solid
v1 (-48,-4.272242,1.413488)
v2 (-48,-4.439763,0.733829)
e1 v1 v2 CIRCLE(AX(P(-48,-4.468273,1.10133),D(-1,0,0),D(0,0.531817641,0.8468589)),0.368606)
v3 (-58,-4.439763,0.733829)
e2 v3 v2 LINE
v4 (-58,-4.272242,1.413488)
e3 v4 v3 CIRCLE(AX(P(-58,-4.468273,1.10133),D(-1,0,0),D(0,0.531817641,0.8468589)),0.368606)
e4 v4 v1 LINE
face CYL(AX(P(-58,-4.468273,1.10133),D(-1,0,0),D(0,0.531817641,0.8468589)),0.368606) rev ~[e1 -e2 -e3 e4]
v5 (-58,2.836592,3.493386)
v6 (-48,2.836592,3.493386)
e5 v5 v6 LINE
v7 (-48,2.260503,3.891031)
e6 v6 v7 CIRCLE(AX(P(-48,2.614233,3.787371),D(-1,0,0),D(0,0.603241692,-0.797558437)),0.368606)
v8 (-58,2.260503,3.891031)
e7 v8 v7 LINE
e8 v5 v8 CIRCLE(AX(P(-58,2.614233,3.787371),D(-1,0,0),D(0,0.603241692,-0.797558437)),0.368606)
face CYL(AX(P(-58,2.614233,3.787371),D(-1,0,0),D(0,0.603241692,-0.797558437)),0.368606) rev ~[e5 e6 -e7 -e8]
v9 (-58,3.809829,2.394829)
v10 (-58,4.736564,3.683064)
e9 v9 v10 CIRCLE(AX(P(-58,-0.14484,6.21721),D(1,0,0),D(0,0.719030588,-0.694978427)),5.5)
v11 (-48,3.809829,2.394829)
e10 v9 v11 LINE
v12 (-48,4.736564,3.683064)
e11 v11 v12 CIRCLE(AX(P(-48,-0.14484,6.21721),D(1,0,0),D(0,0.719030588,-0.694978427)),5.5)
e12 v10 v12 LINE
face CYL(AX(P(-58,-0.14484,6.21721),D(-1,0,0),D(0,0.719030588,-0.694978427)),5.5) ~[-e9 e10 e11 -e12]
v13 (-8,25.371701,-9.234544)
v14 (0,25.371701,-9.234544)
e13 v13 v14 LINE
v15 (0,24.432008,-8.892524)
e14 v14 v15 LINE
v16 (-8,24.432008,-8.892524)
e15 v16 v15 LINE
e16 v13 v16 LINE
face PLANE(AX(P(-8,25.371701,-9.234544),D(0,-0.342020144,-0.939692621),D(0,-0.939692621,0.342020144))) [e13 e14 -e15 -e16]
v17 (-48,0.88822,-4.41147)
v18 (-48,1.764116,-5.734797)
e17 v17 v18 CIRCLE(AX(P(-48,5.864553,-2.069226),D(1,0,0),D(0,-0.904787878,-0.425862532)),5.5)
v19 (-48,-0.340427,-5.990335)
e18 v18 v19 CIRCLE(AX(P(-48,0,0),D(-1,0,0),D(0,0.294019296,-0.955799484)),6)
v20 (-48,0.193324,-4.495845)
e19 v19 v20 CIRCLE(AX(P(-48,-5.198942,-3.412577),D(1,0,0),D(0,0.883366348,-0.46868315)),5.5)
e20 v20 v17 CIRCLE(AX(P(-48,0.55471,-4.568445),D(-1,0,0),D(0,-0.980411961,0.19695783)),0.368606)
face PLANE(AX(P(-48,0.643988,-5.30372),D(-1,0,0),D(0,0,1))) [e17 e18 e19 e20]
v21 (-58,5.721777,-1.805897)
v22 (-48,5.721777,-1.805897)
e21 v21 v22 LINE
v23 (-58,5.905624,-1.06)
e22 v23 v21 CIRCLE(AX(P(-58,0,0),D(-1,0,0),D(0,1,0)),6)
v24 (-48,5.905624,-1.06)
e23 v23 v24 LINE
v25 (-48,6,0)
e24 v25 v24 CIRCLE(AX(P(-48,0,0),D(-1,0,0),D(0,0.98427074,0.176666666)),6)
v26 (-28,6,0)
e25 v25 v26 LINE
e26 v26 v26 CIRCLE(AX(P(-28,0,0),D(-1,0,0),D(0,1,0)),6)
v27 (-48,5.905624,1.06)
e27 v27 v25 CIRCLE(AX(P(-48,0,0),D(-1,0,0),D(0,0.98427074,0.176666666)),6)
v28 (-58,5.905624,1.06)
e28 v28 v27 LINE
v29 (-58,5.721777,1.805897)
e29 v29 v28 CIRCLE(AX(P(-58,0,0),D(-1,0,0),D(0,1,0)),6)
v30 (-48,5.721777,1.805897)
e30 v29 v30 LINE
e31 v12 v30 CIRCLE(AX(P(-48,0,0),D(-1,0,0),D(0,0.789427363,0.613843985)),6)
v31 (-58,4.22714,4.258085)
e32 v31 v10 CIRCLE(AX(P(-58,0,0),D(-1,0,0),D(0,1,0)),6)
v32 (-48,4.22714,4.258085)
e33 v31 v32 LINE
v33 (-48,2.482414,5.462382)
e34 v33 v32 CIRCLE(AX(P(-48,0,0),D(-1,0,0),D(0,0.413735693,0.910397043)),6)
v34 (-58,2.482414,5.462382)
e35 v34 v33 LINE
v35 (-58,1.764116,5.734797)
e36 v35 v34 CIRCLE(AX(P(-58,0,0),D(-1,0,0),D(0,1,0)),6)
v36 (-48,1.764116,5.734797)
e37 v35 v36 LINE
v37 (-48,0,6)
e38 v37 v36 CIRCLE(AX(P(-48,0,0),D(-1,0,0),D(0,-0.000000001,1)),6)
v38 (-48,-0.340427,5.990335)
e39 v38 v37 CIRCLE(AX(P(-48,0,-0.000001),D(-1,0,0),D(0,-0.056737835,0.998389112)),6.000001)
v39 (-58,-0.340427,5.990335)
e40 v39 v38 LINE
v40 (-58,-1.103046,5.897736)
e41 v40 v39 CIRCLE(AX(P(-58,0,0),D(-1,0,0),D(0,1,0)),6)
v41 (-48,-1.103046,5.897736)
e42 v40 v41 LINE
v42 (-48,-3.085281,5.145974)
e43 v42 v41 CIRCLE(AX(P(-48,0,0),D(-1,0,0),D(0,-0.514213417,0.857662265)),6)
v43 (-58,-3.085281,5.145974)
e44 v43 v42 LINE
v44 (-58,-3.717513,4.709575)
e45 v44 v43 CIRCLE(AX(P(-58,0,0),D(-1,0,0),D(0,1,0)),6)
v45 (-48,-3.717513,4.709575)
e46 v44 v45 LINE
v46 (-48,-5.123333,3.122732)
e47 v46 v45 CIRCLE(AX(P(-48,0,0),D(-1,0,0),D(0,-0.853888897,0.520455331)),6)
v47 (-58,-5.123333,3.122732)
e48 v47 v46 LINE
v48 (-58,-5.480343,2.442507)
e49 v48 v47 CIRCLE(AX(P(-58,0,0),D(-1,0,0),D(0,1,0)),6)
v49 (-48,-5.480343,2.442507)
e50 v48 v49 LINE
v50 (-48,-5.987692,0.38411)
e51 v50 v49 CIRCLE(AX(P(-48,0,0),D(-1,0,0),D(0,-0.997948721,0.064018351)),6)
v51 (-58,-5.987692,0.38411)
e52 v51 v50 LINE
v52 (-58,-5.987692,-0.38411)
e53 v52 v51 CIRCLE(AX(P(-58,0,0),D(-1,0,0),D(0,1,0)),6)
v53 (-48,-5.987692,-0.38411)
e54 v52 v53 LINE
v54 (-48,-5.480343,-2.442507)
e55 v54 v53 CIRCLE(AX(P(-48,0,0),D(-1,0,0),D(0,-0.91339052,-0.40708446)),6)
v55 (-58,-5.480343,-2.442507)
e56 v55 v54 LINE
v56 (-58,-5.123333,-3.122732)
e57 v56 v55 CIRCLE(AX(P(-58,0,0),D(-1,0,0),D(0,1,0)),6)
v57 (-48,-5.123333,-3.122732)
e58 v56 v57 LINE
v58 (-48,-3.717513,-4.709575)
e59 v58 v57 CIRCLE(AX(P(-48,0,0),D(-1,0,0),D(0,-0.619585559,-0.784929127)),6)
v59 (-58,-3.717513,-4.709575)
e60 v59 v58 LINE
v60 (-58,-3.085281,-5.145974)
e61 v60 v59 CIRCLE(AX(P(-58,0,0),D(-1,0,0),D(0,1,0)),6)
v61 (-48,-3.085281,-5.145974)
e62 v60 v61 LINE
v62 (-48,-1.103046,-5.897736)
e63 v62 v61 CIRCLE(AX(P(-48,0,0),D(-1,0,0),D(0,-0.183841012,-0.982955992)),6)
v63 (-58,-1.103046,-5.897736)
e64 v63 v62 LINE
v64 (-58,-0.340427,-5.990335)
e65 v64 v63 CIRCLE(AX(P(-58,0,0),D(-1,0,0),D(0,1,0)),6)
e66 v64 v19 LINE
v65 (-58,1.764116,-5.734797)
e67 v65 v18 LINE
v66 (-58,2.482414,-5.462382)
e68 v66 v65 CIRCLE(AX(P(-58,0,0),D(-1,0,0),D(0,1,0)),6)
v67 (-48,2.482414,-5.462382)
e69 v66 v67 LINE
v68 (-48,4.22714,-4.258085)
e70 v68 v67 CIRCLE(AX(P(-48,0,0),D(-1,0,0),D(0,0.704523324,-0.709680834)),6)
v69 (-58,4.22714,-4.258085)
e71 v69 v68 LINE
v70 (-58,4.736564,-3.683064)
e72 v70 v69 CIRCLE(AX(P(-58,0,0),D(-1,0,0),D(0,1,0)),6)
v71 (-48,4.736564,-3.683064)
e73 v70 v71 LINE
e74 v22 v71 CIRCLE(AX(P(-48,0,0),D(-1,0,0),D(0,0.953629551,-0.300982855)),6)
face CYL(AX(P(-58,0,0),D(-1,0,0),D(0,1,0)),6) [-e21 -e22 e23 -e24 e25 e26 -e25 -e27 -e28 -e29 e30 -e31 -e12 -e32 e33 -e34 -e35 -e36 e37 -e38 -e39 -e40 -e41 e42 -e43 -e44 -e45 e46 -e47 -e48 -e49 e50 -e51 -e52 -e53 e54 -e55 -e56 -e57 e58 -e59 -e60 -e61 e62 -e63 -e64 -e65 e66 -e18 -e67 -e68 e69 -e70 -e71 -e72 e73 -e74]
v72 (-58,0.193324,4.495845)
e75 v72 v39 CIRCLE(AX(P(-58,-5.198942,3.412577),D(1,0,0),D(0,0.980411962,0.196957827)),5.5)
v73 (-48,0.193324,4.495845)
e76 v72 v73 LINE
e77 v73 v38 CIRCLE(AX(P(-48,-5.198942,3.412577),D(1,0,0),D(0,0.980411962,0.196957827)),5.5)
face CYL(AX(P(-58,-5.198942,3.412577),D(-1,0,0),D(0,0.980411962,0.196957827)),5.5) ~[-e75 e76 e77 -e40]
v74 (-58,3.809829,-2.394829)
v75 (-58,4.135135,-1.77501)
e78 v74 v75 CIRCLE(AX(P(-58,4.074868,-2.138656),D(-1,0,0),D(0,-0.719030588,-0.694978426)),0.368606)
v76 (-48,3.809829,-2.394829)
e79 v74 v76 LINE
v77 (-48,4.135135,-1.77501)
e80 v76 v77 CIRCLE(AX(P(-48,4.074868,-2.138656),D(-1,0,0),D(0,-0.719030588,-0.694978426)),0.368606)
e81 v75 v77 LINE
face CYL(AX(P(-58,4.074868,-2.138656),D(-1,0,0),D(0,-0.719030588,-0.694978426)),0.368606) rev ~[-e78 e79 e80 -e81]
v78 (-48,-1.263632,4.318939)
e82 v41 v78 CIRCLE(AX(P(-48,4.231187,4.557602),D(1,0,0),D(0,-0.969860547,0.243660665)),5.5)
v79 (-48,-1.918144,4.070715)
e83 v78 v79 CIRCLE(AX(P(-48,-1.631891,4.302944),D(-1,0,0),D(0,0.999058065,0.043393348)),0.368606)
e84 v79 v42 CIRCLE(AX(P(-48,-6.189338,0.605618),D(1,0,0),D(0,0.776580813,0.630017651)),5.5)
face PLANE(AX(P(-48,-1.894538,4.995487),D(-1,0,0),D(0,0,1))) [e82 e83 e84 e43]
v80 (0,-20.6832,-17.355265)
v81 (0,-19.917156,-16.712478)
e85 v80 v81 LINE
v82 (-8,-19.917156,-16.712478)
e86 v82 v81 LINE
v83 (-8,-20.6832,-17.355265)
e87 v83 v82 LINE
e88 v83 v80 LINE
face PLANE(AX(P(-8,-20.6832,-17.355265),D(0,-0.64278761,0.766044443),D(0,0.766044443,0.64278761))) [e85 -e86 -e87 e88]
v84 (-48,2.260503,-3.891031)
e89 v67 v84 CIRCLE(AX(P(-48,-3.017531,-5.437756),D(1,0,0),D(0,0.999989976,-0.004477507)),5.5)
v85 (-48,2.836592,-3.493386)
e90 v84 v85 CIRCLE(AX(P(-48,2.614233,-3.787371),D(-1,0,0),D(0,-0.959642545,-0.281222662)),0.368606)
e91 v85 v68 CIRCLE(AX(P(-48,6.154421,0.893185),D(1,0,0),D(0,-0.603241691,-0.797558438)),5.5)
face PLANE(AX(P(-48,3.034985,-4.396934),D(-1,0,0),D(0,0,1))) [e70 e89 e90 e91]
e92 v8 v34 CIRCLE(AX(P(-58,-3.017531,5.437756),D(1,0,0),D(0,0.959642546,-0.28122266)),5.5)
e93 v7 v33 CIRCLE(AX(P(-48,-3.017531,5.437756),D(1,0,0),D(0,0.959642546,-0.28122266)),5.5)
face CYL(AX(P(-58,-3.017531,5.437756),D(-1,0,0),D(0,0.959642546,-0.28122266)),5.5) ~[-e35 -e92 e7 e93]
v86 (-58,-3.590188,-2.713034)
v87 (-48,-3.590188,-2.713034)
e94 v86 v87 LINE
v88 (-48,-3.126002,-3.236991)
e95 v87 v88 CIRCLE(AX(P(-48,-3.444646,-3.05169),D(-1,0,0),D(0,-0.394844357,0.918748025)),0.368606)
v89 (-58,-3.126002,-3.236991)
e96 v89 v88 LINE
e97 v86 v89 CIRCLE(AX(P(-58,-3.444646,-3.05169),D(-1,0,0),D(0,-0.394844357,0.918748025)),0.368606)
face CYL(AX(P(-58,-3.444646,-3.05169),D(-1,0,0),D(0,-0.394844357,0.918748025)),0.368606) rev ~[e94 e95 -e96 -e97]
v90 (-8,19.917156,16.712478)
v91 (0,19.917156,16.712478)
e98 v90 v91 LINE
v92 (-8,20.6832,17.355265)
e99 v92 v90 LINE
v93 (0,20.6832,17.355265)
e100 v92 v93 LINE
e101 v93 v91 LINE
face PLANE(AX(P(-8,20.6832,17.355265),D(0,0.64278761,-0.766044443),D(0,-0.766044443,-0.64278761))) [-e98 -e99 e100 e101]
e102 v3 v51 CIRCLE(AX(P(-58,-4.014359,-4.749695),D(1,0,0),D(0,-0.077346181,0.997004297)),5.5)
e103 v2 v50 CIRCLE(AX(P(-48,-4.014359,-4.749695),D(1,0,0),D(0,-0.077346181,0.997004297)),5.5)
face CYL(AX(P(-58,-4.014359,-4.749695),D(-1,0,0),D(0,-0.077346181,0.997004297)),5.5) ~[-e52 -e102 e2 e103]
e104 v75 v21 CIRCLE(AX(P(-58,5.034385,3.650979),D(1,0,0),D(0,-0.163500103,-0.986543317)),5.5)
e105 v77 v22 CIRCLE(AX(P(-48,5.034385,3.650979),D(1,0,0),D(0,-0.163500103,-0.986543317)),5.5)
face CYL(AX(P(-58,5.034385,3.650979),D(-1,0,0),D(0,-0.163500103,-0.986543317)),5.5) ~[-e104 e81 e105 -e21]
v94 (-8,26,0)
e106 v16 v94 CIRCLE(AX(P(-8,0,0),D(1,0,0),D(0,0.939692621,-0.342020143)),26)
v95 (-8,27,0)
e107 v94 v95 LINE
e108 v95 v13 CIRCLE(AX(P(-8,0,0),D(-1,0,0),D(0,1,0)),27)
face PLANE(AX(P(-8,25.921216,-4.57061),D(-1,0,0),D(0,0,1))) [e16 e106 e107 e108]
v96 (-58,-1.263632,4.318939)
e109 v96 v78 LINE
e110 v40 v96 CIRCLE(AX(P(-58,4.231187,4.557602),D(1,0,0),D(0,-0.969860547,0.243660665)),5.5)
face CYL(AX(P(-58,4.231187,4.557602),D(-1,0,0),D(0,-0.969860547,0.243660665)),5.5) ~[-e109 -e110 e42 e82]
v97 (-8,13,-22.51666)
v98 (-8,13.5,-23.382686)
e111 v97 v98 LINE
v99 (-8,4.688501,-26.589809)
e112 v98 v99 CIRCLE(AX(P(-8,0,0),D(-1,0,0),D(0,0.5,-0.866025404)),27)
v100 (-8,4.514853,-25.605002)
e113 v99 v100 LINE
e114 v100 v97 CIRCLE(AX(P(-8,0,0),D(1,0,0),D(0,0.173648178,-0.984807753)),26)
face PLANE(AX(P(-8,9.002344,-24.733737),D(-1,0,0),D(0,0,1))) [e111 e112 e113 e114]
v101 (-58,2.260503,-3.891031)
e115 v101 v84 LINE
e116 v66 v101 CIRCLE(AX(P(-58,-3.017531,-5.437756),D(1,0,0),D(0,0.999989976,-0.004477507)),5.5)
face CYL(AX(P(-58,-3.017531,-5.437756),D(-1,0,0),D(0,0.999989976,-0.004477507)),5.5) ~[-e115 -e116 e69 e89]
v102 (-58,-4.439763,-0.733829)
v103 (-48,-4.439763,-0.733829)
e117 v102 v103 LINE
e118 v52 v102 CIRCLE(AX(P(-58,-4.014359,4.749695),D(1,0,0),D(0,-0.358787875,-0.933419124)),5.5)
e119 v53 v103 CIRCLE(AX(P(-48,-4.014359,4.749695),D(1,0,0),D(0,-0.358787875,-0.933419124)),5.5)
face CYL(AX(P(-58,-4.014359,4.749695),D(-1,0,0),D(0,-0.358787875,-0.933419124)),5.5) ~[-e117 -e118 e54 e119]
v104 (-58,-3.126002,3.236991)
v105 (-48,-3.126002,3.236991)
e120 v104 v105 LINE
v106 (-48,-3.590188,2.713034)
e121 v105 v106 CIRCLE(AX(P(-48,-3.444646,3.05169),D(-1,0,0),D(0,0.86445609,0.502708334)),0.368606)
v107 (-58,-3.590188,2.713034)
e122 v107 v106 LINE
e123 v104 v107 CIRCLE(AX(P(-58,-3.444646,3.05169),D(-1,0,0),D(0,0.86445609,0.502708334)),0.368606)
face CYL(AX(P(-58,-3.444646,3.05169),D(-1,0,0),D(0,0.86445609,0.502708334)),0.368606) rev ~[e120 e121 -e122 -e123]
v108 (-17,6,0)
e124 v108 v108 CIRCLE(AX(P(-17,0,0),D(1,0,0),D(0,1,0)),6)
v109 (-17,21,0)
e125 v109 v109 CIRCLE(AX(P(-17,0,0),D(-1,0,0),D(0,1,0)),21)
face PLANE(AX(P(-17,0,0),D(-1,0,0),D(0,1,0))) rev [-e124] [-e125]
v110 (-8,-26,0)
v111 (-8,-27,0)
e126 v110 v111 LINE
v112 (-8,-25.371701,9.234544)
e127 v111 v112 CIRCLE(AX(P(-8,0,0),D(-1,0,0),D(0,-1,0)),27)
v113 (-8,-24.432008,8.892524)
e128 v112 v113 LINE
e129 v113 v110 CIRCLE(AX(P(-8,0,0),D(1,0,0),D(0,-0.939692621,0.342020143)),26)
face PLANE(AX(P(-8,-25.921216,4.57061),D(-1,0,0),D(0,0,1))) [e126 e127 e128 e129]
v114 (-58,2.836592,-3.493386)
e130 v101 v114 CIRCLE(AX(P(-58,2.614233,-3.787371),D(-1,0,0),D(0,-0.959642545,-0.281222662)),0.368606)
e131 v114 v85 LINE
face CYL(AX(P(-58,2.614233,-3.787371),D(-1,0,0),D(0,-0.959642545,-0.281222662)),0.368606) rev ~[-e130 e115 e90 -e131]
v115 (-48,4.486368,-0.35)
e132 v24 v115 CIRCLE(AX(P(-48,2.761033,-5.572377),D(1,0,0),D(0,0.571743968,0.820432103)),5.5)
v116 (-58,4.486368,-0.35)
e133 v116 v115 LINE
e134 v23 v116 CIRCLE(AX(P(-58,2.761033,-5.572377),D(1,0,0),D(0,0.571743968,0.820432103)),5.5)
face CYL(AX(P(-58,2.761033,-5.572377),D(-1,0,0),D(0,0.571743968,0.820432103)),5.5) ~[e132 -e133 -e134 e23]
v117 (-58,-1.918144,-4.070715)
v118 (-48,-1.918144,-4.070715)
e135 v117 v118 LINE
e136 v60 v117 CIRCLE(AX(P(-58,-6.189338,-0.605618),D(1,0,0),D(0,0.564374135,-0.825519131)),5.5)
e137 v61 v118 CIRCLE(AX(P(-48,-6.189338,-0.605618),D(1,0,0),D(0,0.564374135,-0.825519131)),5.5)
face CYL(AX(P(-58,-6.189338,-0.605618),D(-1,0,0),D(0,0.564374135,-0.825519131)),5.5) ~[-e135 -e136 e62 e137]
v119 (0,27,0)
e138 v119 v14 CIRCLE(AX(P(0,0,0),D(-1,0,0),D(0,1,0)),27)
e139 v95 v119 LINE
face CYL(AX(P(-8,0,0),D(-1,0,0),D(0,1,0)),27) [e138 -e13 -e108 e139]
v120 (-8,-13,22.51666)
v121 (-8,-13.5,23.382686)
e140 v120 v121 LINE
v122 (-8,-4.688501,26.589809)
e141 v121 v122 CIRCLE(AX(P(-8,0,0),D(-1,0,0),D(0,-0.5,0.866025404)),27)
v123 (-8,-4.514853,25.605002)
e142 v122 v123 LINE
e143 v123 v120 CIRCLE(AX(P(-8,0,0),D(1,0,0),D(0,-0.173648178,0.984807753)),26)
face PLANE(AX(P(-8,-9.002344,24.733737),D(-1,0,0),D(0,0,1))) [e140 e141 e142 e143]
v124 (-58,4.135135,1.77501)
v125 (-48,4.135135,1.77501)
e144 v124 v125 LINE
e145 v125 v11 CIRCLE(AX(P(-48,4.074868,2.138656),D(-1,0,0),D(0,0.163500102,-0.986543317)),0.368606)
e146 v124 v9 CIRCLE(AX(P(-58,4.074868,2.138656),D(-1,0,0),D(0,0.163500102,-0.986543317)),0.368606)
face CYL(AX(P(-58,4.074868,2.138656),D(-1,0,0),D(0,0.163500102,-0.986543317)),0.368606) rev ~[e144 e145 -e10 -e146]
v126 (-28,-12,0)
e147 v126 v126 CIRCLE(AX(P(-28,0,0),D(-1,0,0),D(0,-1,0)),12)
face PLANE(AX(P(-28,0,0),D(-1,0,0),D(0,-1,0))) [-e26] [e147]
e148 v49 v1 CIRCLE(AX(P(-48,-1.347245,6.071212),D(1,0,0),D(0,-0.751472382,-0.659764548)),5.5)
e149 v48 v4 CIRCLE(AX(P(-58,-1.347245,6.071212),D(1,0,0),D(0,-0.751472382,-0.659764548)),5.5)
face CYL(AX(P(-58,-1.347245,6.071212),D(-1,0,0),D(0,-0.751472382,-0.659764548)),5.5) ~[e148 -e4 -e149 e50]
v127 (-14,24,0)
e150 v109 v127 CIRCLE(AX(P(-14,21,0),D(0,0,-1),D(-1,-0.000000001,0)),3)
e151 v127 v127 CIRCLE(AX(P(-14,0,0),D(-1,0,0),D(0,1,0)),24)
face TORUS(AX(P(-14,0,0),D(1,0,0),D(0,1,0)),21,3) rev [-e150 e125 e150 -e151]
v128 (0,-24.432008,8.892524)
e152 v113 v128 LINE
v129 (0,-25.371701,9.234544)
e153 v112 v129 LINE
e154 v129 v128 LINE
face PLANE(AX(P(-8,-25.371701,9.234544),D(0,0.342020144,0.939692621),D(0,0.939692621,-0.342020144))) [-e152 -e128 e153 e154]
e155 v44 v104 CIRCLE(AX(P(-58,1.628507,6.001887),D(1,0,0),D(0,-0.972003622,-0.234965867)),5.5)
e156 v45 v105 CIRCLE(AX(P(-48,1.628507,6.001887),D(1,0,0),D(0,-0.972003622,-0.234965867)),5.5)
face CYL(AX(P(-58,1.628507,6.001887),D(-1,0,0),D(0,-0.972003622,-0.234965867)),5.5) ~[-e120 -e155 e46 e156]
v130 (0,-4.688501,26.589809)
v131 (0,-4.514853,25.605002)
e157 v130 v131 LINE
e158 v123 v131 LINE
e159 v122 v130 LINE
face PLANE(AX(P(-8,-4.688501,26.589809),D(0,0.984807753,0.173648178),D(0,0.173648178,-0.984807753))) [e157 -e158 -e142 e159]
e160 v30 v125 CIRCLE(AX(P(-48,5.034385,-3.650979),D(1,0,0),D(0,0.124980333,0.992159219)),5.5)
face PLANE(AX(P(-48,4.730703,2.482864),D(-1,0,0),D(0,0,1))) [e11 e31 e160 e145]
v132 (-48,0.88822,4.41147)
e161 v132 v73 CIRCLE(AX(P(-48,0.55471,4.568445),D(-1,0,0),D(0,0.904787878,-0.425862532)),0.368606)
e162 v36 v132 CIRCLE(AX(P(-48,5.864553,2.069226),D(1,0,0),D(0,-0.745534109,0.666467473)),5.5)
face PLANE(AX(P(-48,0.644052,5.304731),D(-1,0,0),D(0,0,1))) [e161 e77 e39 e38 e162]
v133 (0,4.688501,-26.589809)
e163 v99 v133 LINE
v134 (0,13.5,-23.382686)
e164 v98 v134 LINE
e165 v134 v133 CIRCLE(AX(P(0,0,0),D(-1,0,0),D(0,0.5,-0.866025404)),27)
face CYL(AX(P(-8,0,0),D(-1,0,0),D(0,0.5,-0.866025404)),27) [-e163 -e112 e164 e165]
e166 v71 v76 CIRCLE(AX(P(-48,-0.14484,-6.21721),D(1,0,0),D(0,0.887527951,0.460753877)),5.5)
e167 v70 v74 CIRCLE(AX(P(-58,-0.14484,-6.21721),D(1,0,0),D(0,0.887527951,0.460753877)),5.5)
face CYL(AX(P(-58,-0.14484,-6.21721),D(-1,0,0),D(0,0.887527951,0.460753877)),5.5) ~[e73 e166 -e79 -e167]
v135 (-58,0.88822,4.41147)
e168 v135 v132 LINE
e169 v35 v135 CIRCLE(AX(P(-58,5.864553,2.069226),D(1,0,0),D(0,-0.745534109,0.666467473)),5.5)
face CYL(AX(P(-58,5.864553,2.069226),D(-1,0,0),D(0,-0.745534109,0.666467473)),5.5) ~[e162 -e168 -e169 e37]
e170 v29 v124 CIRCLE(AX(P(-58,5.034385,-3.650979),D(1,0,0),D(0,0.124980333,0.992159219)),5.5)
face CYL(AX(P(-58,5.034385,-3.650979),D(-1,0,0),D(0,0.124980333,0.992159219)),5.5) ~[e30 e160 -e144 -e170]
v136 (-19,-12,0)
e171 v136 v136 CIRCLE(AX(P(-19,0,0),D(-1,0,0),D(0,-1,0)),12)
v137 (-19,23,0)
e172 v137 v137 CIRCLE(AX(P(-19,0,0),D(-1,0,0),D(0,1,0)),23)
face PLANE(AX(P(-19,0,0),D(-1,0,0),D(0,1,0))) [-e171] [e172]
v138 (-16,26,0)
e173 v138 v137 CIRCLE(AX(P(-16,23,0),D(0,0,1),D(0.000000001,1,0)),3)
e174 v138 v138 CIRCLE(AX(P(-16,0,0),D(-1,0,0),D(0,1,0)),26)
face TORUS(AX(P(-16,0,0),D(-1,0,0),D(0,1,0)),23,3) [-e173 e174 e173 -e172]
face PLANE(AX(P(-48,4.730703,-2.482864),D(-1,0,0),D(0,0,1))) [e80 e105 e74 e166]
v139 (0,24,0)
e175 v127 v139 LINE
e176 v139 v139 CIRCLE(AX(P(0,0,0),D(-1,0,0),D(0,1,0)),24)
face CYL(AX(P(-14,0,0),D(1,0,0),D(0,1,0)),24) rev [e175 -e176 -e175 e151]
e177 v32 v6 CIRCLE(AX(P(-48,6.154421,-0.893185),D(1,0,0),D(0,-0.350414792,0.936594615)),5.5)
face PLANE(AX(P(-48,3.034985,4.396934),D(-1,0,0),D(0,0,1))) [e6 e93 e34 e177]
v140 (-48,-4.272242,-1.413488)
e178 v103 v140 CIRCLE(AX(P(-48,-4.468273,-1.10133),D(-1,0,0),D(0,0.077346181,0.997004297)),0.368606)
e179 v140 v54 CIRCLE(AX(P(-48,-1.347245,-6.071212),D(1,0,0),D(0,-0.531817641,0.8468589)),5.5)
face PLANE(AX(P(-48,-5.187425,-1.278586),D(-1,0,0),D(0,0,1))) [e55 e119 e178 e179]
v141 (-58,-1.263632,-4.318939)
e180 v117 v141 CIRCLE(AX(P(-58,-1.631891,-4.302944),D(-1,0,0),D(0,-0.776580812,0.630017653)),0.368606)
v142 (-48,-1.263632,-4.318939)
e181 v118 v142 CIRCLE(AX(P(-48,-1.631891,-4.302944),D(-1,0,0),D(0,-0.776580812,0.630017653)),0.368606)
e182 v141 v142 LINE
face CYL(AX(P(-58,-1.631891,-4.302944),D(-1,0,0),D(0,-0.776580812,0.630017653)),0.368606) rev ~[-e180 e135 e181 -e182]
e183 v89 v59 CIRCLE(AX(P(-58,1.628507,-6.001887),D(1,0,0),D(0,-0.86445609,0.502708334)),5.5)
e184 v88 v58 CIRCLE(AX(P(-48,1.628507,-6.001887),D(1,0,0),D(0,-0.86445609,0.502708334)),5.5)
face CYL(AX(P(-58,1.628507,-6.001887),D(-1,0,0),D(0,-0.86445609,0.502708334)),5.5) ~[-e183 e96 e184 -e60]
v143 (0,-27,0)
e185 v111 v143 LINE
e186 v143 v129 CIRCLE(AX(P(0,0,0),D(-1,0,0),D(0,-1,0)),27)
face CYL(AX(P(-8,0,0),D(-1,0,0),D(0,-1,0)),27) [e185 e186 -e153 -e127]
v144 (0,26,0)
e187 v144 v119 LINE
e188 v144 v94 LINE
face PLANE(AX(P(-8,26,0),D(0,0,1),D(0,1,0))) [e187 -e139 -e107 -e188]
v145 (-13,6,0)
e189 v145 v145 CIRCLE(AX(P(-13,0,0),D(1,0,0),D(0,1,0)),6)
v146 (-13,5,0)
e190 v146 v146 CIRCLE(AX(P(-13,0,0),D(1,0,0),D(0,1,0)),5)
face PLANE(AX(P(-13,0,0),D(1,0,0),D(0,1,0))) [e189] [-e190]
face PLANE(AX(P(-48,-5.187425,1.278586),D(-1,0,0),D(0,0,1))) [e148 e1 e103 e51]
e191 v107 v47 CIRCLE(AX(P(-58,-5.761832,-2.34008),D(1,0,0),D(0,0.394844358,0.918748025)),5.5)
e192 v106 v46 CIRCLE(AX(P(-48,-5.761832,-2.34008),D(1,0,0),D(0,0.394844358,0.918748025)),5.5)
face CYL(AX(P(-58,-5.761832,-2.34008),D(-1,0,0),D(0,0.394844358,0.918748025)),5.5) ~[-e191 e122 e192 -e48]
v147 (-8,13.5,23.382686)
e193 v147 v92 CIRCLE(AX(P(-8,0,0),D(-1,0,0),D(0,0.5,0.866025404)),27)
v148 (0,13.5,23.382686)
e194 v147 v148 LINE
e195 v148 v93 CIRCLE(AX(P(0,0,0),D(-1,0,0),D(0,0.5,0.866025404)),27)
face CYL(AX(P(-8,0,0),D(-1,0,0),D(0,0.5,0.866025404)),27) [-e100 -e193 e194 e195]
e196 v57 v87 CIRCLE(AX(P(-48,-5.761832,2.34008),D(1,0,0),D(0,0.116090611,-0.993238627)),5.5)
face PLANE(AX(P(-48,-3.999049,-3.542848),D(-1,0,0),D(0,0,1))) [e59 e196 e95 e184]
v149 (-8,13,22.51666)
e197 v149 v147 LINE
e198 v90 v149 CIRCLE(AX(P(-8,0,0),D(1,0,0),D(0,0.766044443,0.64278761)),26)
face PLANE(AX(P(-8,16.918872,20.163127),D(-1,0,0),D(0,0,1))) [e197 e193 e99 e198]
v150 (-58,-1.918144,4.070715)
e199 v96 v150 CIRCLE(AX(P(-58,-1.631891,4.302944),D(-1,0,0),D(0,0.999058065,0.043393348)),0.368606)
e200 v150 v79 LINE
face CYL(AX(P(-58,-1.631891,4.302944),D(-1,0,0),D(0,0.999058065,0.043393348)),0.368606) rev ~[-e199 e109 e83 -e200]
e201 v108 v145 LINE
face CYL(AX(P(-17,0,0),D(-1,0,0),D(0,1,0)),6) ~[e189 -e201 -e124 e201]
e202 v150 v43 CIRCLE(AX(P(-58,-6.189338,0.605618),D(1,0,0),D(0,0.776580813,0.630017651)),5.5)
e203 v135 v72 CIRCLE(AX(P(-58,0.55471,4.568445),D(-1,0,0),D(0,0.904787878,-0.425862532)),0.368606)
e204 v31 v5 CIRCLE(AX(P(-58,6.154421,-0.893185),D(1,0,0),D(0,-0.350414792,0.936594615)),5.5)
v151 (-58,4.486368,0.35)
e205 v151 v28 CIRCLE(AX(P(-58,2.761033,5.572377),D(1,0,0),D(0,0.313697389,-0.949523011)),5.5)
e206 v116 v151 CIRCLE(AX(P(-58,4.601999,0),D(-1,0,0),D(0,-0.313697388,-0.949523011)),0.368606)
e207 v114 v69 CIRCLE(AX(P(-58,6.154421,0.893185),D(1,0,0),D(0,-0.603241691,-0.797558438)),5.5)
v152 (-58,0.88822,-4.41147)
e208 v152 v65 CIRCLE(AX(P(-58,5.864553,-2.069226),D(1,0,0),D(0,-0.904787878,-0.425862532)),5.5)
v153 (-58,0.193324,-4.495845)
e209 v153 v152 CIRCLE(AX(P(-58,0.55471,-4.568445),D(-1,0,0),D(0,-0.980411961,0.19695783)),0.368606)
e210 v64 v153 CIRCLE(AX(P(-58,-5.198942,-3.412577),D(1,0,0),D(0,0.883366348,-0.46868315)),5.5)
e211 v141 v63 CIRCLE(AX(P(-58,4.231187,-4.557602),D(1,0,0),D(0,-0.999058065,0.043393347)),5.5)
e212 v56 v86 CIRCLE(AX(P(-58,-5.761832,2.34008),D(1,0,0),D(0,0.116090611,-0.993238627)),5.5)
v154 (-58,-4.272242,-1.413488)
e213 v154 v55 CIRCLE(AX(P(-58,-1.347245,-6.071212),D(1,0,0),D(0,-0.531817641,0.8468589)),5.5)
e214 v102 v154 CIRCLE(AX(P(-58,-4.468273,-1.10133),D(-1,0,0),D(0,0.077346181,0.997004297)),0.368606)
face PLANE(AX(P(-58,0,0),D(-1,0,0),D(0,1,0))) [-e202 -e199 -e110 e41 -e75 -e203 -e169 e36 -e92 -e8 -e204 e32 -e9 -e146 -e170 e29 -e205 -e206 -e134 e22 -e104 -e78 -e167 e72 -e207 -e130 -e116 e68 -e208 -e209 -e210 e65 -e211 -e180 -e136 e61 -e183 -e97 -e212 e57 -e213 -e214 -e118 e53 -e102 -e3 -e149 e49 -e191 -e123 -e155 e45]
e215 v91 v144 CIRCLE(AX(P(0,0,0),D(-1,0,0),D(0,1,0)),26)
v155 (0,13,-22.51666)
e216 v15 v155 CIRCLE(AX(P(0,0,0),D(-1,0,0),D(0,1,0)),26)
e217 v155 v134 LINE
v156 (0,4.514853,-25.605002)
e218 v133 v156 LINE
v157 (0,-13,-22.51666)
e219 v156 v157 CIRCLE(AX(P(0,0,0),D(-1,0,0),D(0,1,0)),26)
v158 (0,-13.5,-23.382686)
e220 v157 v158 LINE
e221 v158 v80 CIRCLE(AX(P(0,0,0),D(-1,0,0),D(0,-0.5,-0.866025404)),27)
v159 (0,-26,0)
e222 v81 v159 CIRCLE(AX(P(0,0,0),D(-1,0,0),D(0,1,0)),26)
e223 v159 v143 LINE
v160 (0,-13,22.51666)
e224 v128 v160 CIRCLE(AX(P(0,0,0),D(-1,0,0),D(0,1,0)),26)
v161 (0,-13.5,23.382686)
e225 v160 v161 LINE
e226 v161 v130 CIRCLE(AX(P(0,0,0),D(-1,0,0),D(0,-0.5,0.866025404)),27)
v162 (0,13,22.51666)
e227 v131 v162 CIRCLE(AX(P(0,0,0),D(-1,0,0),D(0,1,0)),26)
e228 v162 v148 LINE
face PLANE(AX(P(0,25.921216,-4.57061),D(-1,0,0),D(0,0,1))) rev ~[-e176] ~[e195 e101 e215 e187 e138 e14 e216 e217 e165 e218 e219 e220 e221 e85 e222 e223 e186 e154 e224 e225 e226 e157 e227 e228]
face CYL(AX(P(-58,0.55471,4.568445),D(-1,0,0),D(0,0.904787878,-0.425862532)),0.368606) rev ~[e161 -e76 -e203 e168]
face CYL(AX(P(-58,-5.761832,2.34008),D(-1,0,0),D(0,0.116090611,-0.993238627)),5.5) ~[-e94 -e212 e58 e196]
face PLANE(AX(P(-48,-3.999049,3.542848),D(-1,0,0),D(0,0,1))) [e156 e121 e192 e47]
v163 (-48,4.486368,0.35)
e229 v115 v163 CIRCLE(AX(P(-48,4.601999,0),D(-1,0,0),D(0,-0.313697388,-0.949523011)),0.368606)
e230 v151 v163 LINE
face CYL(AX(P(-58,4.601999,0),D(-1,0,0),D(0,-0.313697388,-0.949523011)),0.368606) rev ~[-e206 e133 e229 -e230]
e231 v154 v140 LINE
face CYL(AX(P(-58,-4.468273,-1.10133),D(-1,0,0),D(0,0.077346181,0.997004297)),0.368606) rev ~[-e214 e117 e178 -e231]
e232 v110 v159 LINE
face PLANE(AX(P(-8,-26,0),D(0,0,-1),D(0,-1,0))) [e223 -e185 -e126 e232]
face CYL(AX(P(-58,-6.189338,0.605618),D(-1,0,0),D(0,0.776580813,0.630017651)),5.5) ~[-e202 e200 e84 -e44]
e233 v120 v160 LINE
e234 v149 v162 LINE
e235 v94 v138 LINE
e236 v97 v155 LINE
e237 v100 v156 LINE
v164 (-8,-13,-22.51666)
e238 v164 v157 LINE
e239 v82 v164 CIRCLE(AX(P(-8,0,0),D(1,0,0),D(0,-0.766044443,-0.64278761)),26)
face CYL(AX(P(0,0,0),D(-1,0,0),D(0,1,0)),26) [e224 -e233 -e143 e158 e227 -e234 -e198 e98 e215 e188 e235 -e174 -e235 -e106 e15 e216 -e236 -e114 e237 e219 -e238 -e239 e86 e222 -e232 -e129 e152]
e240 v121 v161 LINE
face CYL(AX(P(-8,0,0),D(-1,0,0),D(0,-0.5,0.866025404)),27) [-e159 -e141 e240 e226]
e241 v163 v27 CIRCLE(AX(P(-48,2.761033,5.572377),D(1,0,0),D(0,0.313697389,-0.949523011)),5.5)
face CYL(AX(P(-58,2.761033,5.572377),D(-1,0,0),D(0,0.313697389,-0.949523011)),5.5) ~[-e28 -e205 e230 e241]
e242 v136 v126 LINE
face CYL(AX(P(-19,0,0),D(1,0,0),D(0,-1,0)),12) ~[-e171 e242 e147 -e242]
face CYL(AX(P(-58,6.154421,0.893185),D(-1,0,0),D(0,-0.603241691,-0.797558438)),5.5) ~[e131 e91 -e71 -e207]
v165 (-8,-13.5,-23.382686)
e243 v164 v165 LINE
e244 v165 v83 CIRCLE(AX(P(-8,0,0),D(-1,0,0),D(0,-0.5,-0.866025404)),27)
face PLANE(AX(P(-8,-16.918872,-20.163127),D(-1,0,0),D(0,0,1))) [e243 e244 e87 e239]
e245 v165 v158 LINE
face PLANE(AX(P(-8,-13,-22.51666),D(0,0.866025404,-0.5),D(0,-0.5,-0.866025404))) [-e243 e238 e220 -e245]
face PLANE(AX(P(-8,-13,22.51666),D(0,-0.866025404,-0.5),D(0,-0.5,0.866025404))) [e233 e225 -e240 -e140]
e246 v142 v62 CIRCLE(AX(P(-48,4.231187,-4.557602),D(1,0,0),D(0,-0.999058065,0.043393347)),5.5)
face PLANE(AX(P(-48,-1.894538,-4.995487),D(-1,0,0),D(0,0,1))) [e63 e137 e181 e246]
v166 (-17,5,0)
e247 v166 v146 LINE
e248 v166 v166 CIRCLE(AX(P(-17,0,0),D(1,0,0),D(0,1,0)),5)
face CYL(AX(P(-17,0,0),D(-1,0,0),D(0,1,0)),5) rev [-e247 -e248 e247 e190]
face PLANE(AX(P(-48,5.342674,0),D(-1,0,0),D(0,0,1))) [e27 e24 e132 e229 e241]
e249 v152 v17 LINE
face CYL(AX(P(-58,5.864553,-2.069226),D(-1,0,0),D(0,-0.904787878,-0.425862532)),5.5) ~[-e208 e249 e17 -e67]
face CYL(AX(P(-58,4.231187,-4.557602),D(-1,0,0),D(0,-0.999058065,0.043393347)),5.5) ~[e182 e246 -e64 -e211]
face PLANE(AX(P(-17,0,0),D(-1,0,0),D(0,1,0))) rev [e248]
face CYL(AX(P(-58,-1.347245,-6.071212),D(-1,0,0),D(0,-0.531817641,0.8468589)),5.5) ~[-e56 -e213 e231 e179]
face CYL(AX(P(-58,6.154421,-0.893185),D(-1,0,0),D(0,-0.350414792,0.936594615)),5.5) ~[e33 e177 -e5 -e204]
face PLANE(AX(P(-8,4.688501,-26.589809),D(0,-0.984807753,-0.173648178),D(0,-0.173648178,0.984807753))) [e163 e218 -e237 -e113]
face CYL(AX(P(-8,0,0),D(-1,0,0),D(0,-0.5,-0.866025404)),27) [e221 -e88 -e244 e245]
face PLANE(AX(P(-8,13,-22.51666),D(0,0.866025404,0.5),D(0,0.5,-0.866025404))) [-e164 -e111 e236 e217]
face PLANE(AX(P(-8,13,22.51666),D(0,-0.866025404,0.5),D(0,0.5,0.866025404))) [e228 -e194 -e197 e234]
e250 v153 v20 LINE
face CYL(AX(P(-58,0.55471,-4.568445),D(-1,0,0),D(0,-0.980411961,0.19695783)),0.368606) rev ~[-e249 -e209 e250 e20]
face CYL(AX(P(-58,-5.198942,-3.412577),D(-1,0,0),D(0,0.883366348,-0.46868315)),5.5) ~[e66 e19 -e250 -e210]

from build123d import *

# Parameters (mm, degrees)
SKETCH2_R           = 6
SKETCH2_R_2         = 5
BOSS_EXTRUDE1_DEPTH = 4
SKETCH3_R           = 12
BOSS_EXTRUDE2_DEPTH = 9
BOSS_EXTRUDE3_START = 30
SKETCH4_R           = 6
BOSS_EXTRUDE3_DEPTH = 30
BOSS_EXTRUDE4_START = -8
BOSS_EXTRUDE4_DEPTH = 8
CUT_EXTRUDE2_DEPTH  = 10


with BuildPart() as part:
    # Sketch1 → Revolve1 (revolve)
    with BuildSketch(Plane.XY):
        with BuildLine():
            Line((-19, 0), (-17, 0))
            Line((-17, 0), (-17, 21))
            ThreePointArc((-17, 21), (-16.121320344, 23.121320344), (-14, 24))
            Line((-14, 24), (0, 24))
            Line((0, 24), (0, 26))
            Line((0, 26), (-16, 26))
            ThreePointArc((-16, 26), (-18.121320344, 25.121320344), (-19, 23))
            Line((-19, 23), (-19, 0))
        make_face()
    revolve(axis=Axis((0, 0, 0), (-1, 0, 0)))

    # Sketch2 → Boss-Extrude1 (add)
    with BuildSketch(Plane(origin=(-17, 0, 0), x_dir=(0, 0, -1), z_dir=(1, 0, 0))):
        with Locations(Location((0, 0, 0), (0, 0, 90))):
            Circle(SKETCH2_R)
        with Locations(Location((0, 0, 0), (0, 0, 90))):
            Circle(SKETCH2_R_2, mode=Mode.SUBTRACT)
    extrude(amount=BOSS_EXTRUDE1_DEPTH)

    # Sketch3 → Boss-Extrude2 (add)
    with BuildSketch(Plane.ZY.offset(19)):
        with Locations(Location((0, 0, 0), (0, 0, 270))):
            Circle(SKETCH3_R)
    extrude(amount=BOSS_EXTRUDE2_DEPTH)

    # Sketch4 → Boss-Extrude3 (add)
    with BuildSketch(Plane.ZY.offset(28).offset(BOSS_EXTRUDE3_START)):
        with Locations(Location((0, 0, 0), (0, 0, 90))):
            Circle(SKETCH4_R)
    extrude(amount=-BOSS_EXTRUDE3_DEPTH)

    # Sketch5 → Boss-Extrude4 (add)
    with BuildSketch(Plane(origin=(0, 0, 0), x_dir=(0, 0, -1), z_dir=(1, 0, 0)).offset(BOSS_EXTRUDE4_START)):
        with BuildLine():
            Line((0, 26), (0, 27))
            ThreePointArc((0, 27), (4.688500797, 26.589809331), (9.23454387, 25.371700761))
            Line((9.23454387, 25.371700761), (8.892523726, 24.43200814))
            ThreePointArc((8.892523726, 24.43200814), (4.514852619, 25.605001578), (0, 26))
        make_face()
        with BuildLine():
            Line((22.516660498, 13), (23.382685902, 13.5))
            ThreePointArc((23.382685902, 13.5), (25.371700761, 9.23454387), (26.589809331, 4.688500797))
            Line((26.589809331, 4.688500797), (25.605001578, 4.514852619))
            ThreePointArc((25.605001578, 4.514852619), (24.43200814, 8.892523726), (22.516660498, 13))
        make_face()
        with BuildLine():
            Line((22.516660498, -13), (23.382685902, -13.5))
            ThreePointArc((23.382685902, -13.5), (20.683199964, -17.355265462), (17.355265462, -20.683199964))
            Line((17.355265462, -20.683199964), (16.712477852, -19.917155521))
            ThreePointArc((16.712477852, -19.917155521), (19.917155521, -16.712477852), (22.516660498, -13))
        make_face()
        with BuildLine():
            Line((0, -26), (0, -27))
            ThreePointArc((0, -27), (-4.688500797, -26.589809331), (-9.23454387, -25.371700761))
            Line((-9.23454387, -25.371700761), (-8.892523726, -24.43200814))
            ThreePointArc((-8.892523726, -24.43200814), (-4.514852619, -25.605001578), (0, -26))
        make_face()
        with BuildLine():
            Line((-22.516660498, -13), (-23.382685902, -13.5))
            ThreePointArc((-23.382685902, -13.5), (-25.371700761, -9.23454387), (-26.589809331, -4.688500797))
            Line((-26.589809331, -4.688500797), (-25.605001578, -4.514852619))
            ThreePointArc((-25.605001578, -4.514852619), (-24.43200814, -8.892523726), (-22.516660498, -13))
        make_face()
        with BuildLine():
            Line((-22.516660498, 13), (-23.382685902, 13.5))
            ThreePointArc((-23.382685902, 13.5), (-20.683199964, 17.355265462), (-17.355265462, 20.683199964))
            Line((-17.355265462, 20.683199964), (-16.712477852, 19.917155521))
            ThreePointArc((-16.712477852, 19.917155521), (-19.917155521, 16.712477852), (-22.516660498, 13))
        make_face()
    extrude(amount=BOSS_EXTRUDE4_DEPTH)

    # Sketch6 → Cut-Extrude2 (cut)
    with BuildSketch(Plane.ZY.offset(58)):
        with BuildLine():
            ThreePointArc((-1.775009671, 4.135134903), (-1.847979553, 4.927336232), (-1.805897134, 5.721777306))
            ThreePointArc((-1.805897134, 5.721777306), (-2.788339032, 5.312736154), (-3.683063909, 4.736564181))
            ThreePointArc((-3.683063909, 4.736564181), (-3.005346184, 4.319903366), (-2.394828889, 3.809828683))
            ThreePointArc((-2.394828889, 3.809828683), (-1.967355774, 3.748483247), (-1.775009671, 4.135134903))
        make_face()
        with BuildLine():
            ThreePointArc((-3.493386018, 2.836591992), (-3.926151954, 3.504140637), (-4.258084999, 4.227139948))
            ThreePointArc((-4.258084999, 4.227139948), (-4.937903195, 3.40838848), (-5.462382262, 2.482414153))
            ThreePointArc((-5.462382262, 2.482414153), (-4.668661083, 2.428430454), (-3.891031341, 2.260503286))
            ThreePointArc((-3.891031341, 2.260503286), (-3.484014049, 2.404841262), (-3.493386018, 2.836591992))
        make_face()
        with BuildLine():
            ThreePointArc((-4.411469728, 0.88822004), (-5.104890258, 1.278188652), (-5.734796905, 1.764115771))
            ThreePointArc((-5.734796905, 1.764115771), (-5.956253245, 0.723220082), (-5.990334668, -0.340427042))
            ThreePointArc((-5.990334668, -0.340427042), (-5.262441991, -0.019366609), (-4.495845404, 0.193323828))
            ThreePointArc((-4.495845404, 0.193323828), (-4.202526693, 0.510279126), (-4.411469728, 0.88822004))
        make_face()
        with BuildLine():
            ThreePointArc((-4.318938887, -1.263632419), (-5.114159724, -1.24058095), (-5.897735953, -1.103046069))
            ThreePointArc((-5.897735953, -1.103046069), (-5.610097456, -2.127629322), (-5.145973592, -3.085280504))
            ThreePointArc((-5.145973592, -3.085280504), (-4.650660859, -2.462727016), (-4.070715466, -1.918143789))
            ThreePointArc((-4.070715466, -1.918143789), (-3.958291117, -1.501181809), (-4.318938887, -1.263632419))
        make_face()
        with BuildLine():
            ThreePointArc((-3.236991196, -3.126001919), (-3.95183683, -3.475148407), (-4.709574769, -3.717513349))
            ThreePointArc((-4.709574769, -3.717513349), (-3.978735949, -4.491064489), (-3.122731983, -5.123333384))
            ThreePointArc((-3.122731983, -5.123333384), (-2.97346937, -4.341906342), (-2.713033672, -3.59018778))
            ThreePointArc((-2.713033672, -3.59018778), (-2.807258749, -3.168740082), (-3.236991196, -3.126001919))
        make_face()
        with BuildLine():
            ThreePointArc((-1.413487832, -4.272242052), (-1.884195742, -4.913601244), (-2.442506762, -5.480343121))
            ThreePointArc((-2.442506762, -5.480343121), (-1.435893986, -5.825650905), (-0.384110109, -5.987692329))
            ThreePointArc((-0.384110109, -5.987692329), (-0.615091883, -5.226407251), (-0.73382856, -4.439763017))
            ThreePointArc((-0.73382856, -4.439763017), (-1.013117233, -4.11037819), (-1.413487832, -4.272242052))
        make_face()
        with BuildLine():
            ThreePointArc((0.384110109, -5.987692329), (1.435893986, -5.825650905), (2.442506762, -5.480343121))
            ThreePointArc((2.442506762, -5.480343121), (1.884195742, -4.913601244), (1.413487832, -4.272242052))
            ThreePointArc((1.413487832, -4.272242052), (1.013117233, -4.11037819), (0.73382856, -4.439763017))
            ThreePointArc((0.73382856, -4.439763017), (0.615091883, -5.226407251), (0.384110109, -5.987692329))
        make_face()
        with BuildLine():
            ThreePointArc((3.122731983, -5.123333384), (3.978735949, -4.491064489), (4.709574769, -3.717513349))
            ThreePointArc((4.709574769, -3.717513349), (3.95183683, -3.475148407), (3.236991196, -3.126001919))
            ThreePointArc((3.236991196, -3.126001919), (2.807258749, -3.168740082), (2.713033672, -3.59018778))
            ThreePointArc((2.713033672, -3.59018778), (2.97346937, -4.341906342), (3.122731983, -5.123333384))
        make_face()
        with BuildLine():
            ThreePointArc((5.145973592, -3.085280504), (5.610097456, -2.127629322), (5.897735953, -1.103046069))
            ThreePointArc((5.897735953, -1.103046069), (5.114159724, -1.24058095), (4.318938887, -1.263632419))
            ThreePointArc((4.318938887, -1.263632419), (3.958291117, -1.501181809), (4.070715466, -1.918143789))
            ThreePointArc((4.070715466, -1.918143789), (4.650660859, -2.462727016), (5.145973592, -3.085280504))
        make_face()
        with BuildLine():
            ThreePointArc((6, 0), (5.933328806, 0.891969329), (5.734796905, 1.764115771))
            ThreePointArc((5.734796905, 1.764115771), (5.104890258, 1.278188652), (4.411469728, 0.88822004))
            ThreePointArc((4.411469728, 0.88822004), (4.202526693, 0.510279126), (4.495845404, 0.193323828))
            ThreePointArc((4.495845404, 0.193323828), (5.262441991, -0.019366609), (5.990334668, -0.340427042))
            ThreePointArc((5.990334668, -0.340427042), (5.99758318, -0.170282111), (6, 0))
        make_face()
        with BuildLine():
            ThreePointArc((5.462382262, 2.482414153), (4.937903195, 3.40838848), (4.258084999, 4.227139948))
            ThreePointArc((4.258084999, 4.227139948), (3.926151954, 3.504140637), (3.493386018, 2.836591992))
            ThreePointArc((3.493386018, 2.836591992), (3.484014049, 2.404841262), (3.891031341, 2.260503286))
            ThreePointArc((3.891031341, 2.260503286), (4.668661083, 2.428430454), (5.462382262, 2.482414153))
        make_face()
        with BuildLine():
            ThreePointArc((3.683063909, 4.736564181), (2.788339032, 5.312736154), (1.805897134, 5.721777306))
            ThreePointArc((1.805897134, 5.721777306), (1.847979553, 4.927336232), (1.775009671, 4.135134903))
            ThreePointArc((1.775009671, 4.135134903), (1.967355774, 3.748483247), (2.394828889, 3.809828683))
            ThreePointArc((2.394828889, 3.809828683), (3.005346184, 4.319903366), (3.683063909, 4.736564181))
        make_face()
        with BuildLine():
            ThreePointArc((1.06, 5.905624438), (0, 6), (-1.06, 5.905624438))
            ThreePointArc((-1.06, 5.905624438), (-0.653542693, 5.221738477), (-0.35, 4.486368242))
            ThreePointArc((-0.35, 4.486368242), (0, 4.233392894), (0.35, 4.486368242))
            ThreePointArc((0.35, 4.486368242), (0.653542693, 5.221738477), (1.06, 5.905624438))
        make_face()
    extrude(amount=-CUT_EXTRUDE2_DEPTH, mode=Mode.SUBTRACT)


solid = part.part
